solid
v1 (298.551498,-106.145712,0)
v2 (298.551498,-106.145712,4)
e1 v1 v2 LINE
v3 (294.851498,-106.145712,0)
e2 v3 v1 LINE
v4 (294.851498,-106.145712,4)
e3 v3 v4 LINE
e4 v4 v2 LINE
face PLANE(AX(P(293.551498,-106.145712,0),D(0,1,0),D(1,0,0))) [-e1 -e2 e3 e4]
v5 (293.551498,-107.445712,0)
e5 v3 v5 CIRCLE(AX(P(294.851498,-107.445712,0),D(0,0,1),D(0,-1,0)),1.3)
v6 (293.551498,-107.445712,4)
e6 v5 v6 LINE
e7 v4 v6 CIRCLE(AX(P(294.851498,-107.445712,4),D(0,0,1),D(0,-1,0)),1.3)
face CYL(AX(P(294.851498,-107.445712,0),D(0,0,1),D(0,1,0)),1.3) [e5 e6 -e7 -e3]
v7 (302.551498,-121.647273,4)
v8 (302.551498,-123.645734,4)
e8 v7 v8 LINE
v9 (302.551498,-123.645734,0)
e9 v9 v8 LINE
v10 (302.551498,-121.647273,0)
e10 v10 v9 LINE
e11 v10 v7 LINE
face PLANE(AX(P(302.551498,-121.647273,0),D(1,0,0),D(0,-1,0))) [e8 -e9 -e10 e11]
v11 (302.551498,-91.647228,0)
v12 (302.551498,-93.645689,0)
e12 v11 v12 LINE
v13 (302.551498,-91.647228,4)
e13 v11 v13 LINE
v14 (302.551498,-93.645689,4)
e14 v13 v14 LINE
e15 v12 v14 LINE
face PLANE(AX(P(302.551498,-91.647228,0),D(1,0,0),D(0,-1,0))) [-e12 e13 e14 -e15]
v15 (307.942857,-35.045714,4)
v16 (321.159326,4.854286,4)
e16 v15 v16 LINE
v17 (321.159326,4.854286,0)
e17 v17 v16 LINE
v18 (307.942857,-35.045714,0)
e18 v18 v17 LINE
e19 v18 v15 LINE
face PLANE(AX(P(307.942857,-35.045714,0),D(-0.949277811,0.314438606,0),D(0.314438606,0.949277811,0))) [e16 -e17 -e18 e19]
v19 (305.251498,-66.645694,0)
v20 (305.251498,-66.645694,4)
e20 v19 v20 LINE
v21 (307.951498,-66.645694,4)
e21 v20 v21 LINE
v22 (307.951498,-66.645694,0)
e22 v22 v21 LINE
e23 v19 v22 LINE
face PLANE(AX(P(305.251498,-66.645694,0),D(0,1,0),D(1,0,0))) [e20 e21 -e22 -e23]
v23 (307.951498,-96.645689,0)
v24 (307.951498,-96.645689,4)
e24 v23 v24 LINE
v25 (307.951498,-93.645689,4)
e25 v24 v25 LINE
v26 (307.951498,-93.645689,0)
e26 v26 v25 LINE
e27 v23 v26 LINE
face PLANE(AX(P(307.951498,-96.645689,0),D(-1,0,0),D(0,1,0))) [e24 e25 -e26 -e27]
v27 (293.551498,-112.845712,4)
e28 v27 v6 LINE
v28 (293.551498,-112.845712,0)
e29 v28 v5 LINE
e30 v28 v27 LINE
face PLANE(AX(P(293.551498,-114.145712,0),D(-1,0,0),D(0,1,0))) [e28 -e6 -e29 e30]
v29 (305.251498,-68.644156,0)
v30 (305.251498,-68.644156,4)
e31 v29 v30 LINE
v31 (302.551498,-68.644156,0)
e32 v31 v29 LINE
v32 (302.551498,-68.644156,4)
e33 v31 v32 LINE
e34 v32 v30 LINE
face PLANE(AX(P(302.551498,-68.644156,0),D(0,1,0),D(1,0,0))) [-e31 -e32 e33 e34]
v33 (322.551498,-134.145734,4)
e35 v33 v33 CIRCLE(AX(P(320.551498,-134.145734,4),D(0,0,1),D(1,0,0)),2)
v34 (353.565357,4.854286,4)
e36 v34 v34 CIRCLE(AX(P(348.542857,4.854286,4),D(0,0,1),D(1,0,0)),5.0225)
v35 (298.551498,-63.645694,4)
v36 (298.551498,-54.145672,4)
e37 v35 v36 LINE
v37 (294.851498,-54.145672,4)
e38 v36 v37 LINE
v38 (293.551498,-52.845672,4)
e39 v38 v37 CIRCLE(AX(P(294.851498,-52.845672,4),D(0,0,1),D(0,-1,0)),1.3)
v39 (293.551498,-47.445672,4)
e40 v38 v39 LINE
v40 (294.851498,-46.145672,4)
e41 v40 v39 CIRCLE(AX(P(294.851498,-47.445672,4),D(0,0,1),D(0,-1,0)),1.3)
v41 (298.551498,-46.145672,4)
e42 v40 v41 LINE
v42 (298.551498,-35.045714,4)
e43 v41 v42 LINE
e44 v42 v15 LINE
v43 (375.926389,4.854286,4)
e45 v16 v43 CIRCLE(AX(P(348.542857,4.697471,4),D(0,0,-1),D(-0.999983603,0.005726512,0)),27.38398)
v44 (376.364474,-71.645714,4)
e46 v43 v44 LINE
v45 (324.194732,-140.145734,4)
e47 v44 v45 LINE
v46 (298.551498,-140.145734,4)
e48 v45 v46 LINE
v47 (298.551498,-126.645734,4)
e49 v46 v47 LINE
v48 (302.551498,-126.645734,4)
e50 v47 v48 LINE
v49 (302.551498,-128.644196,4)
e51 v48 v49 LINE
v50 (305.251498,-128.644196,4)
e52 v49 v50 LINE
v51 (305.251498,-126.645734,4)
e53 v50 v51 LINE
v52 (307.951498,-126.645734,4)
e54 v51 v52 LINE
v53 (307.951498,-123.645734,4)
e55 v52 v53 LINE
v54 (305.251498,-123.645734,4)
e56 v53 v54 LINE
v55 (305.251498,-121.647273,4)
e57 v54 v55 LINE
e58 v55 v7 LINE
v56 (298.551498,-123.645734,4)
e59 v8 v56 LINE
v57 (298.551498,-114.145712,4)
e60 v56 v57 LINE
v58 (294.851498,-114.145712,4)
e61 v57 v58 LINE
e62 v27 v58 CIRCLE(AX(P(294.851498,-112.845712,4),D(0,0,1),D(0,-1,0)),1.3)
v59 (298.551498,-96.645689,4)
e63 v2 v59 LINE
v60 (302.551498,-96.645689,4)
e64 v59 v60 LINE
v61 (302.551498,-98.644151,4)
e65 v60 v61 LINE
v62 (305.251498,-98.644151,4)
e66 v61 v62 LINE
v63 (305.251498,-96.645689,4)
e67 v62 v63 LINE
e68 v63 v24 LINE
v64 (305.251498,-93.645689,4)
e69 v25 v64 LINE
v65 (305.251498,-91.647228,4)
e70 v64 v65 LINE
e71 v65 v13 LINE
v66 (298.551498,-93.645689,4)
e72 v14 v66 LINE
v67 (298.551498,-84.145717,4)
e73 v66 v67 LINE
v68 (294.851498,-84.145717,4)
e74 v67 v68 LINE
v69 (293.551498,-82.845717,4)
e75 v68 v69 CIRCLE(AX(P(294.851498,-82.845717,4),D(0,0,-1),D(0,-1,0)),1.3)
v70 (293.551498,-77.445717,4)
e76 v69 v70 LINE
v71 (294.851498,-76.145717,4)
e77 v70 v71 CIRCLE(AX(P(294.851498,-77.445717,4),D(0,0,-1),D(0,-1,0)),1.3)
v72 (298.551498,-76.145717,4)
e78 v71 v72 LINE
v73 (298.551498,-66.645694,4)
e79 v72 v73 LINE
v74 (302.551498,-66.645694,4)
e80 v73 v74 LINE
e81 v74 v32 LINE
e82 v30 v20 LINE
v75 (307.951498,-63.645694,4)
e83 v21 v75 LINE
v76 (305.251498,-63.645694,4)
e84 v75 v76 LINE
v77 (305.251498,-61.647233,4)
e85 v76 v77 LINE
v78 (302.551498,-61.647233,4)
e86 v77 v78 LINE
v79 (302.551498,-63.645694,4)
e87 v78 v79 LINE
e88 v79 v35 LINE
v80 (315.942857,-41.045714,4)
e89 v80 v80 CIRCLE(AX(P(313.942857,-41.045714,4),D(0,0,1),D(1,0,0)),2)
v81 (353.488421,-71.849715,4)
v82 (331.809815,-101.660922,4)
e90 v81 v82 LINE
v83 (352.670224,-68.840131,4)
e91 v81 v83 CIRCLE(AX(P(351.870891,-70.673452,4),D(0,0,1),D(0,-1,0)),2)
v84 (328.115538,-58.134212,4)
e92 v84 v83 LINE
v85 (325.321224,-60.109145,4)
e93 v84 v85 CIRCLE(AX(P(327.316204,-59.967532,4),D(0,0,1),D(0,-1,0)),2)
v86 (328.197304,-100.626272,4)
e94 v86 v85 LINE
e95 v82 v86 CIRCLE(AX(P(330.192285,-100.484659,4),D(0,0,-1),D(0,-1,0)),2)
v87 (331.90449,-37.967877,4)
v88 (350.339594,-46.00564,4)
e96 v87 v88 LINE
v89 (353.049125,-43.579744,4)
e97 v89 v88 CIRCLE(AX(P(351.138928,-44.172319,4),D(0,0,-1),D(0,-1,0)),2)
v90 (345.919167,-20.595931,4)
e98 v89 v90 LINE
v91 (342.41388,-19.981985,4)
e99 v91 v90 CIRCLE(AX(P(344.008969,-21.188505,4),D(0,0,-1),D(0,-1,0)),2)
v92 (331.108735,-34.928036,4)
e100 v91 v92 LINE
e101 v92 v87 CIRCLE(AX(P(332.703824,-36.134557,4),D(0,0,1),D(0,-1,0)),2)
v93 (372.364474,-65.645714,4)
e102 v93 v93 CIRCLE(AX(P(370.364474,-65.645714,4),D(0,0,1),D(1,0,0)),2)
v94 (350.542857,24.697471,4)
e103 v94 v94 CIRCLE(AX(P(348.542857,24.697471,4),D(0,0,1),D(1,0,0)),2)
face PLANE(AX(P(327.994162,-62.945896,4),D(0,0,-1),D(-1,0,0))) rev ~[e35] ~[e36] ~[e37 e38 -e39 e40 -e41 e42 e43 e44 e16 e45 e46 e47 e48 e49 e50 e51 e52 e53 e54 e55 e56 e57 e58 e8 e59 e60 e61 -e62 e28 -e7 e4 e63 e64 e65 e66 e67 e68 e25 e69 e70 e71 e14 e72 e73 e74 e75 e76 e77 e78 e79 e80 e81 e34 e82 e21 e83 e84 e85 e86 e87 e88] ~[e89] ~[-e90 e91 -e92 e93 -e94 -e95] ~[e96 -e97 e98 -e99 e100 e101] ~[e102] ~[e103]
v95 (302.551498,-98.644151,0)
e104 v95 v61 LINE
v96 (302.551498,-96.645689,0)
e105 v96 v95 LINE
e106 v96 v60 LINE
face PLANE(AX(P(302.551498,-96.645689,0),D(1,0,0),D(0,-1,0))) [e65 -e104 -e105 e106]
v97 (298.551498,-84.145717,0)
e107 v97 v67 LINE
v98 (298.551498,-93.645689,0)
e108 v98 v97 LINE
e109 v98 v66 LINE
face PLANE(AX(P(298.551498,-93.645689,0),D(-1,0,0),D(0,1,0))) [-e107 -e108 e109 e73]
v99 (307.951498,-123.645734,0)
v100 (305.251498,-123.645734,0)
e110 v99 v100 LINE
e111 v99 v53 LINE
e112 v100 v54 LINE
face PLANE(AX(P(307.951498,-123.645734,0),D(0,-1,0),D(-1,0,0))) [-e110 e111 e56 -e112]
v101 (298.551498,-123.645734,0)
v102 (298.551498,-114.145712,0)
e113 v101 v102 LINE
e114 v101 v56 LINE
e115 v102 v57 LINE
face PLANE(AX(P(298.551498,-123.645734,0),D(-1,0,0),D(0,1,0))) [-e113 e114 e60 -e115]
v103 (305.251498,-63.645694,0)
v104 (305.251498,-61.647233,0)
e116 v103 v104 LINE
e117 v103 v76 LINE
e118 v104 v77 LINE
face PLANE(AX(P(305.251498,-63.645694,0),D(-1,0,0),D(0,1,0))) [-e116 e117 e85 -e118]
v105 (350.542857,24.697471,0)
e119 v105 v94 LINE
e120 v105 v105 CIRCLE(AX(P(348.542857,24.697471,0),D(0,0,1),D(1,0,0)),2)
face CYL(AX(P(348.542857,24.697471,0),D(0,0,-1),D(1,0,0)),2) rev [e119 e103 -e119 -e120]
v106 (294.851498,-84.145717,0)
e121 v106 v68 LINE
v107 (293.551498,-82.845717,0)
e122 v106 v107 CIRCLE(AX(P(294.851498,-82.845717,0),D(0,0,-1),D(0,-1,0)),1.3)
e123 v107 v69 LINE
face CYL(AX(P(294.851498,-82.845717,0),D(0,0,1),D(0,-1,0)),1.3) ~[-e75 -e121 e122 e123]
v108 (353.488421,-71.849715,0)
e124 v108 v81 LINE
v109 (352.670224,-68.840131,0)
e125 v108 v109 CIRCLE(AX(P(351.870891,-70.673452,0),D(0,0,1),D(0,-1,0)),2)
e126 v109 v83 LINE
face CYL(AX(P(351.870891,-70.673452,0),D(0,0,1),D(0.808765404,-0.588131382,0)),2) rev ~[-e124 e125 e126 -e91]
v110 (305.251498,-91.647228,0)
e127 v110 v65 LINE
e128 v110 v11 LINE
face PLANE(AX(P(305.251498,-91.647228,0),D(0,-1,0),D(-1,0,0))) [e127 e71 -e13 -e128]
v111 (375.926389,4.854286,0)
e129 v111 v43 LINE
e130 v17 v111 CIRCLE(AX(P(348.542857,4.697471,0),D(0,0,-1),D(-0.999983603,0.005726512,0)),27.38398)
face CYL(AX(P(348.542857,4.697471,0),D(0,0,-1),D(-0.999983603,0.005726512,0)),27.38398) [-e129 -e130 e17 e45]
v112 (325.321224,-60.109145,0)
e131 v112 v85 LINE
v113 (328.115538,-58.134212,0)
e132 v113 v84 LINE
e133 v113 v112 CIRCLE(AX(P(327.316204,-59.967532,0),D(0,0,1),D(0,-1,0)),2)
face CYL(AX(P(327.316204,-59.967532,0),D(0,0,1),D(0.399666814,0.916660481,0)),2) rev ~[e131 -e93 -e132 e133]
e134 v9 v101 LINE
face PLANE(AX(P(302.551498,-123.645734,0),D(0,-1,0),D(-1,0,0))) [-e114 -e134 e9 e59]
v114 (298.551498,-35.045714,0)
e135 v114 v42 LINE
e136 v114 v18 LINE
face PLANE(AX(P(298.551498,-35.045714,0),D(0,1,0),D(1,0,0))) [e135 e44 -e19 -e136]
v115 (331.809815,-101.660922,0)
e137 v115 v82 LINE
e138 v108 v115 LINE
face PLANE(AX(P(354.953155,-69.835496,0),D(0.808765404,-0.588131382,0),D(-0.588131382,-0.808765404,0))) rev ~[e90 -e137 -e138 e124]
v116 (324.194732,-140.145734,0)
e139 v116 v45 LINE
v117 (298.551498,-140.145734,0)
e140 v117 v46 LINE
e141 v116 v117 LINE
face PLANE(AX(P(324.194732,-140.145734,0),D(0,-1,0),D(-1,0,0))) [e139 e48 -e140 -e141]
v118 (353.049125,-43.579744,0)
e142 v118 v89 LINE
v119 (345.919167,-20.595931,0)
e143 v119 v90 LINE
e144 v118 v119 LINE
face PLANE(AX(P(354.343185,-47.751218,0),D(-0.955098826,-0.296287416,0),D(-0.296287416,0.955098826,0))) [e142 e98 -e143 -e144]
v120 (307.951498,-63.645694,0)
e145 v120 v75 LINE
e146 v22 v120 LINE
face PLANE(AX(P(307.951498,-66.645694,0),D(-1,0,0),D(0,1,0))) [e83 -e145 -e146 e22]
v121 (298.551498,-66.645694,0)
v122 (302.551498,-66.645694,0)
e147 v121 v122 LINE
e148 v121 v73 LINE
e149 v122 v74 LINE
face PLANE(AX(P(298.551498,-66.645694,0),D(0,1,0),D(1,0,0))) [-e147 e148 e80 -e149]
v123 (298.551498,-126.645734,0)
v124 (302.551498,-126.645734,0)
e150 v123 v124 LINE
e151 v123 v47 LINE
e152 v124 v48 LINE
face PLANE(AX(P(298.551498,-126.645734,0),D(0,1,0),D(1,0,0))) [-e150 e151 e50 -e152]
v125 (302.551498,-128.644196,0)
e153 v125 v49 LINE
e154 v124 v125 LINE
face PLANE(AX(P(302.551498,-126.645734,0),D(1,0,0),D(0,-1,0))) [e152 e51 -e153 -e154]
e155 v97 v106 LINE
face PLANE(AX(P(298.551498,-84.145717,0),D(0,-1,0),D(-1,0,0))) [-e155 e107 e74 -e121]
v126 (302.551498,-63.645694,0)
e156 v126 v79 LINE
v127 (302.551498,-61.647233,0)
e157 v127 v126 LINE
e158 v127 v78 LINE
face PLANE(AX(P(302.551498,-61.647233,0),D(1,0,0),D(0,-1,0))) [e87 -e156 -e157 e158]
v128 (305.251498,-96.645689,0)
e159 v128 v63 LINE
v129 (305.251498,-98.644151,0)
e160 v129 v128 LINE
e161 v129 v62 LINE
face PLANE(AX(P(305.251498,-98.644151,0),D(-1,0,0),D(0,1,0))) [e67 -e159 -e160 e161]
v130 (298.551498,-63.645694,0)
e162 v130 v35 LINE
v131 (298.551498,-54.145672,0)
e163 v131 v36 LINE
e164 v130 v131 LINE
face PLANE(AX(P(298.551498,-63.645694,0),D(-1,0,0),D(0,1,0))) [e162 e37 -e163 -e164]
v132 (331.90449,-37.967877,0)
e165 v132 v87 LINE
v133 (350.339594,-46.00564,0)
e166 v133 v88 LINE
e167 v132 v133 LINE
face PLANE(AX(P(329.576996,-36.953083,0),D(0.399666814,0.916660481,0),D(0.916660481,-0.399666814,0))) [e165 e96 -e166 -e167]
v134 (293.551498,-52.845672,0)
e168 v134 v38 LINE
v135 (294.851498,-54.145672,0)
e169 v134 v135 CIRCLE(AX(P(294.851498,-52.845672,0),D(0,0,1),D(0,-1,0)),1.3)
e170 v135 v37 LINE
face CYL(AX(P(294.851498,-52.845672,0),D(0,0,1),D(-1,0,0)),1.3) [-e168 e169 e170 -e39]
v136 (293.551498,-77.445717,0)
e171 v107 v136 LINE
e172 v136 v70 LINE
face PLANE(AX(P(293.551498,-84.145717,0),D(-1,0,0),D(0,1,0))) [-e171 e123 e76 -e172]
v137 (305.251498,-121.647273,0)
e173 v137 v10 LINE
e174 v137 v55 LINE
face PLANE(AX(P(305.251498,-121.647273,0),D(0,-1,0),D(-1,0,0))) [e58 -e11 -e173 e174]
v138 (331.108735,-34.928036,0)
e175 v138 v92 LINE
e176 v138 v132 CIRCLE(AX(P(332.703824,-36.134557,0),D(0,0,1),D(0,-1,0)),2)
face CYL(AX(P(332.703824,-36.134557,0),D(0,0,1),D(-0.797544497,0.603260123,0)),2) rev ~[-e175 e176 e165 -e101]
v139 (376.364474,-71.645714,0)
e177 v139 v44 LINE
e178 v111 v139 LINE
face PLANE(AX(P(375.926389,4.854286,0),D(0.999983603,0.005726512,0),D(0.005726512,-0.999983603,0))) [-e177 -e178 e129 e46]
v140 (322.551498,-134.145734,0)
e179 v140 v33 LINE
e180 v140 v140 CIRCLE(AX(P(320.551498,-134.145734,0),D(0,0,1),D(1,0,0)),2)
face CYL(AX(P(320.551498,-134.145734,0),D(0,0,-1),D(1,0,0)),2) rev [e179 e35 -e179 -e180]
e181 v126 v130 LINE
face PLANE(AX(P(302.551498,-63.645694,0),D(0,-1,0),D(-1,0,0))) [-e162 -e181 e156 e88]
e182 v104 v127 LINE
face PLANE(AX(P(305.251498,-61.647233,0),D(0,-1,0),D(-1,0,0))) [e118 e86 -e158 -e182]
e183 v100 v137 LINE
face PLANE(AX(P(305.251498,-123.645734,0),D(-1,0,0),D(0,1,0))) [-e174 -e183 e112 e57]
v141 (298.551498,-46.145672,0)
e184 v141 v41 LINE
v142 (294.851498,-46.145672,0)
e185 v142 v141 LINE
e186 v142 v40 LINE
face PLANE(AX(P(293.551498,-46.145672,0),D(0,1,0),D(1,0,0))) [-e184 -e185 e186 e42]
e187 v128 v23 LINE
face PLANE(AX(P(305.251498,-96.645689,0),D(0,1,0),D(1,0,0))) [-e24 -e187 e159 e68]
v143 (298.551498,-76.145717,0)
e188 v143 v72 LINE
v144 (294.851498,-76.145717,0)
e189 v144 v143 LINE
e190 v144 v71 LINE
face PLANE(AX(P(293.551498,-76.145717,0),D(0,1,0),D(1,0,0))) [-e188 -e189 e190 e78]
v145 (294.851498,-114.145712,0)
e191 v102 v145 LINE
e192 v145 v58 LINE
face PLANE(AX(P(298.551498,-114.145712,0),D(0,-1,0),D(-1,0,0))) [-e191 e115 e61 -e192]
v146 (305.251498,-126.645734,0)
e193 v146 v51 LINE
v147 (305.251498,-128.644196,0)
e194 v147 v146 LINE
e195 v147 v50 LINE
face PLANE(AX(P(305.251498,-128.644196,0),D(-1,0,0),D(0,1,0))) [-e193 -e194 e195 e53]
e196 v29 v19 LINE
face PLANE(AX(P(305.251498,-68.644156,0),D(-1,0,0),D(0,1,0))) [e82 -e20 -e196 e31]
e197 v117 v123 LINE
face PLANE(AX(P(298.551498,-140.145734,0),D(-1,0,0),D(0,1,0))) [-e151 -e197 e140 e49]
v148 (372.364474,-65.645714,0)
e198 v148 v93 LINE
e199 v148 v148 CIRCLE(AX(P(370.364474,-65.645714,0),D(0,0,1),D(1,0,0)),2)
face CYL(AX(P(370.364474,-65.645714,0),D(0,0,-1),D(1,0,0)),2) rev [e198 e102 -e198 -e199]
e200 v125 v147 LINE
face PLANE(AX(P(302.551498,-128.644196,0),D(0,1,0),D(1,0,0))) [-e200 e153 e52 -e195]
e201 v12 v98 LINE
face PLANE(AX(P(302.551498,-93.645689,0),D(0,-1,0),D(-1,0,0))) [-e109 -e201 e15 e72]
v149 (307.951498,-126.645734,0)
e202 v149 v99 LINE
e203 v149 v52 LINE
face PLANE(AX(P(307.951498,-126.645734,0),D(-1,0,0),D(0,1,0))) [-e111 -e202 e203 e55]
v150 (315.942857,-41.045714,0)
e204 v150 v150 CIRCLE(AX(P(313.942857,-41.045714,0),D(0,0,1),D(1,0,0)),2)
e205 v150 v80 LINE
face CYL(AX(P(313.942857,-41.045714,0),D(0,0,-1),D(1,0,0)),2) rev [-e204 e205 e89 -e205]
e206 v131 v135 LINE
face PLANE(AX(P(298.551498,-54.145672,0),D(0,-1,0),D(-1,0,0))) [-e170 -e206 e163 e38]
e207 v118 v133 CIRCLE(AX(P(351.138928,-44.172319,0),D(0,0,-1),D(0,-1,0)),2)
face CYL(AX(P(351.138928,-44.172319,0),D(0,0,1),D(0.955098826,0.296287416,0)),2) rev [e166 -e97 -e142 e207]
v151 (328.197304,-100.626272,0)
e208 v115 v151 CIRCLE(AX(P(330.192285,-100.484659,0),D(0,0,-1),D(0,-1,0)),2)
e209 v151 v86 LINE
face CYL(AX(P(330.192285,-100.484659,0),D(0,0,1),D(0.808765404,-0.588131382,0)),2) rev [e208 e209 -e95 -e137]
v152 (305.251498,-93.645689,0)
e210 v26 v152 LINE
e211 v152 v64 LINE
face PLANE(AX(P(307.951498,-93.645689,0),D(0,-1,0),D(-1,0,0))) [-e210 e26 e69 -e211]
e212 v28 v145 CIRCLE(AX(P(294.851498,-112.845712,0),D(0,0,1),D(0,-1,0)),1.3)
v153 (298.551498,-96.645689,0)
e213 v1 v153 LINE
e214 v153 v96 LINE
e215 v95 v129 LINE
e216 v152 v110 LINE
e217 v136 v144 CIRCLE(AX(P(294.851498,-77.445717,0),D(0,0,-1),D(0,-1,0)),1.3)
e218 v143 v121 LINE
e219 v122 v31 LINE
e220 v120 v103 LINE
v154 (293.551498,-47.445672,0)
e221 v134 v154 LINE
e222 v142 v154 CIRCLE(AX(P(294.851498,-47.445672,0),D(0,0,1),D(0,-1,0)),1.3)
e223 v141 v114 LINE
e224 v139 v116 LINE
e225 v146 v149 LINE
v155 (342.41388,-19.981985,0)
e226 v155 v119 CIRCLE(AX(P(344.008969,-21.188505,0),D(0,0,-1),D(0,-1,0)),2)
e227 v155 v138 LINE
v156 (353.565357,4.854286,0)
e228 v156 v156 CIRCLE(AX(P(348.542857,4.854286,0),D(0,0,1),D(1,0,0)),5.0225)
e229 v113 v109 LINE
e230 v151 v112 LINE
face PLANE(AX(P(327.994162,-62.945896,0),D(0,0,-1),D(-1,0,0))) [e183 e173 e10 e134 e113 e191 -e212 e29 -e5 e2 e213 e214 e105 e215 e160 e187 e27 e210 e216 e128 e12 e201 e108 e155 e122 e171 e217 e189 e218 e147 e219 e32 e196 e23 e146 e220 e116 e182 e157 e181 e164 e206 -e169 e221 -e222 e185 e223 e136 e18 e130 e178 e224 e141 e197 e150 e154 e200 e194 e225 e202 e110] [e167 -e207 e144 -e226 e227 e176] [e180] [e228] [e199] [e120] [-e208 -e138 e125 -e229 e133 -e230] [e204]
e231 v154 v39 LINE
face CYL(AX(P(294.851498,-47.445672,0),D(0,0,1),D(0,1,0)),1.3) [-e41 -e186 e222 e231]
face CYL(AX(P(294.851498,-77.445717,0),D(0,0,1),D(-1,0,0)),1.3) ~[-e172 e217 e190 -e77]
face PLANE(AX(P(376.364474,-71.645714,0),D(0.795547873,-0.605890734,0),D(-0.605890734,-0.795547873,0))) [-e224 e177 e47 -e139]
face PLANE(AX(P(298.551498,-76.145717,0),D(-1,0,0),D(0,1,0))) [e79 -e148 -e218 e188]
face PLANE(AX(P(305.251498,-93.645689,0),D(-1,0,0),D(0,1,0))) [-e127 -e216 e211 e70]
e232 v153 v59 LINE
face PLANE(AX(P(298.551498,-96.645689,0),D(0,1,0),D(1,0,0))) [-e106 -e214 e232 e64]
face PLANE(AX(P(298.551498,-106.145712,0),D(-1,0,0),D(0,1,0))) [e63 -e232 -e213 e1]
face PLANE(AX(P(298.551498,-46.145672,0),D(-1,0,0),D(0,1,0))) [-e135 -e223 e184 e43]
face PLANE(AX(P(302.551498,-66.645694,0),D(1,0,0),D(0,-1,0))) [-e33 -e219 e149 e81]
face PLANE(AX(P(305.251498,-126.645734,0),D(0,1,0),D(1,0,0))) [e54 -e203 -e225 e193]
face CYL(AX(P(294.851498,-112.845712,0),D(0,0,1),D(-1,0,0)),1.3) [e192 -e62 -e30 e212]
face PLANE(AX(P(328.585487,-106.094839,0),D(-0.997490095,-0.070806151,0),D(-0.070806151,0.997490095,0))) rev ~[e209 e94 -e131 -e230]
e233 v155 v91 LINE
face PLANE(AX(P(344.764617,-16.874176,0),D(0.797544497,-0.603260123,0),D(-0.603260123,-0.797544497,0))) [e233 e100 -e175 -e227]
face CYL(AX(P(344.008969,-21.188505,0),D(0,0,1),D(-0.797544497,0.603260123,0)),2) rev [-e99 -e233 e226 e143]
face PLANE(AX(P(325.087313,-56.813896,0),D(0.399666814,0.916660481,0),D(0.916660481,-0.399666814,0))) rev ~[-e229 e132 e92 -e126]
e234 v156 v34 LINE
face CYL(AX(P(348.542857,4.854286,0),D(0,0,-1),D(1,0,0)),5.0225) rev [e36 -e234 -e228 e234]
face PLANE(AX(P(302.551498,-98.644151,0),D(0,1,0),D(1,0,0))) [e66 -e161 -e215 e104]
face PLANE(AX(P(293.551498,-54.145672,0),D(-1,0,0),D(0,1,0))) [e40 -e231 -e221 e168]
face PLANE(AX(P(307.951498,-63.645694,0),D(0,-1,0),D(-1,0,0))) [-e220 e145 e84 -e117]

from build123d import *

# Parameters (mm, degrees)
SKETCH_1_R      = 5.0225
SKETCH_1_R_2    = 2
EXTRUDE_1_DEPTH = 4
FILLET_1_R      = 2
FILLET_2_R      = 1.3


with BuildPart() as part:
    # 草图1 → 凸台-拉伸1 (new body)
    with BuildSketch(Plane.XY):
        with BuildLine():
            Line((298.551498293, -96.645689396), (302.551498293, -96.645689396))
            Line((302.551498293, -96.645689396), (302.551498293, -98.644151028))
            Line((302.551498293, -98.644151028), (305.251498293, -98.644151028))
            Line((305.251498293, -98.644151028), (305.251498293, -96.645689396))
            Line((305.251498293, -96.645689396), (307.951498293, -96.645689396))
            Line((307.951498293, -96.645689396), (307.951498293, -93.645689396))
            Line((307.951498293, -93.645689396), (305.251498293, -93.645689396))
            Line((305.251498293, -93.645689396), (305.251498293, -91.647227763))
            Line((305.251498293, -91.647227763), (302.551498293, -91.647227763))
            Line((302.551498293, -91.647227763), (302.551498293, -93.645689396))
            Line((302.551498293, -93.645689396), (298.551498293, -93.645689396))
            Line((298.551498293, -93.645689396), (298.551498293, -84.145716775))
            Line((298.551498293, -84.145716775), (293.551498293, -84.145716775))
            Line((293.551498293, -84.145716775), (293.551498293, -76.145716775))
            Line((293.551498293, -76.145716775), (298.551498293, -76.145716775))
            Line((298.551498293, -76.145716775), (298.551498293, -66.645694374))
            Line((298.551498293, -66.645694374), (302.551498293, -66.645694374))
            Line((302.551498293, -66.645694374), (302.551498293, -68.644156006))
            Line((302.551498293, -68.644156006), (305.251498293, -68.644156006))
            Line((305.251498293, -68.644156006), (305.251498293, -66.645694374))
            Line((305.251498293, -66.645694374), (307.951498293, -66.645694374))
            Line((307.951498293, -66.645694374), (307.951498293, -63.645694374))
            Line((307.951498293, -63.645694374), (305.251498293, -63.645694374))
            Line((305.251498293, -63.645694374), (305.251498293, -61.647232741))
            Line((305.251498293, -61.647232741), (302.551498293, -61.647232741))
            Line((302.551498293, -61.647232741), (302.551498293, -63.645694374))
            Line((302.551498293, -63.645694374), (298.551498293, -63.645694374))
            Line((298.551498293, -63.645694374), (298.551498293, -54.145671973))
            Line((298.551498293, -54.145671973), (293.551498293, -54.145671973))
            Line((293.551498293, -54.145671973), (293.551498293, -46.145671973))
            Line((293.551498293, -46.145671973), (298.551498293, -46.145671973))
            Line((298.551498293, -46.145671973), (298.551498293, -35.045714286))
            Line((298.551498293, -35.045714286), (307.942857143, -35.045714286))
            Line((307.942857143, -35.045714286), (321.159325739, 4.854285714))
            ThreePointArc((321.159325739, 4.854285714), (348.542857143, 32.081451417), (375.926388547, 4.854285714))
            Line((375.926388547, 4.854285714), (376.364473934, -71.645714286))
            Line((376.364473934, -71.645714286), (324.194731876, -140.145734198))
            Line((324.194731876, -140.145734198), (298.551498293, -140.145734198))
            Line((298.551498293, -140.145734198), (298.551498293, -126.645734198))
            Line((298.551498293, -126.645734198), (302.551498293, -126.645734198))
            Line((302.551498293, -126.645734198), (302.551498293, -128.644195831))
            Line((302.551498293, -128.644195831), (305.251498293, -128.644195831))
            Line((305.251498293, -128.644195831), (305.251498293, -126.645734198))
            Line((305.251498293, -126.645734198), (307.951498293, -126.645734198))
            Line((307.951498293, -126.645734198), (307.951498293, -123.645734198))
            Line((307.951498293, -123.645734198), (305.251498293, -123.645734198))
            Line((305.251498293, -123.645734198), (305.251498293, -121.647272565))
            Line((305.251498293, -121.647272565), (302.551498293, -121.647272565))
            Line((302.551498293, -121.647272565), (302.551498293, -123.645734198))
            Line((302.551498293, -123.645734198), (298.551498293, -123.645734198))
            Line((298.551498293, -123.645734198), (298.551498293, -114.145711797))
            Line((298.551498293, -114.145711797), (293.551498293, -114.145711797))
            Line((293.551498293, -114.145711797), (293.551498293, -106.145711797))
            Line((293.551498293, -106.145711797), (298.551498293, -106.145711797))
            Line((298.551498293, -106.145711797), (298.551498293, -96.645689396))
        make_face()
        with Locations((348.542857143, 4.854285714)):
            Circle(SKETCH_1_R, mode=Mode.SUBTRACT)
        with Locations((348.542857143, 24.697471009)):
            Circle(SKETCH_1_R_2, mode=Mode.SUBTRACT)
        with Locations((320.551498293, -134.145734198)):
            Circle(SKETCH_1_R_2, mode=Mode.SUBTRACT)
        with Locations((370.364473934, -65.645714286)):
            Circle(SKETCH_1_R_2, mode=Mode.SUBTRACT)
        with Locations((313.942857143, -41.045714286)):
            Circle(SKETCH_1_R_2, mode=Mode.SUBTRACT)
        Polygon((354.95315454, -69.835495731), (328.585486884, -106.094838527), (325.087312939, -56.813896117), align=None, mode=Mode.SUBTRACT)
        Polygon((329.57699596, -36.9530828), (354.34318526, -47.751218186), (344.764617274, -16.87417598), align=None, mode=Mode.SUBTRACT)
    extrude(amount=EXTRUDE_1_DEPTH)

    # 圆角1
    fillet_1_edges = [part.edges().sort_by_distance(p)[0] for p in [
        (354.95315454, -69.835495731, 2),
        (325.087312939, -56.813896117, 2),
        (328.585486884, -106.094838527, 2),
        (344.764617274, -16.87417598, 2),
        (329.57699596, -36.9530828, 2),
        (354.34318526, -47.751218186, 2),
    ]]
    fillet(fillet_1_edges, radius=FILLET_1_R)

    # 圆角2
    fillet_2_edges = [part.edges().sort_by_distance(p)[0] for p in [
        (293.551498293, -114.145711797, 2),
        (293.551498293, -106.145711797, 2),
        (293.551498293, -84.145716775, 2),
        (293.551498293, -76.145716775, 2),
        (293.551498293, -54.145671973, 2),
        (293.551498293, -46.145671973, 2),
    ]]
    fillet(fillet_2_edges, radius=FILLET_2_R)


solid = part.part
